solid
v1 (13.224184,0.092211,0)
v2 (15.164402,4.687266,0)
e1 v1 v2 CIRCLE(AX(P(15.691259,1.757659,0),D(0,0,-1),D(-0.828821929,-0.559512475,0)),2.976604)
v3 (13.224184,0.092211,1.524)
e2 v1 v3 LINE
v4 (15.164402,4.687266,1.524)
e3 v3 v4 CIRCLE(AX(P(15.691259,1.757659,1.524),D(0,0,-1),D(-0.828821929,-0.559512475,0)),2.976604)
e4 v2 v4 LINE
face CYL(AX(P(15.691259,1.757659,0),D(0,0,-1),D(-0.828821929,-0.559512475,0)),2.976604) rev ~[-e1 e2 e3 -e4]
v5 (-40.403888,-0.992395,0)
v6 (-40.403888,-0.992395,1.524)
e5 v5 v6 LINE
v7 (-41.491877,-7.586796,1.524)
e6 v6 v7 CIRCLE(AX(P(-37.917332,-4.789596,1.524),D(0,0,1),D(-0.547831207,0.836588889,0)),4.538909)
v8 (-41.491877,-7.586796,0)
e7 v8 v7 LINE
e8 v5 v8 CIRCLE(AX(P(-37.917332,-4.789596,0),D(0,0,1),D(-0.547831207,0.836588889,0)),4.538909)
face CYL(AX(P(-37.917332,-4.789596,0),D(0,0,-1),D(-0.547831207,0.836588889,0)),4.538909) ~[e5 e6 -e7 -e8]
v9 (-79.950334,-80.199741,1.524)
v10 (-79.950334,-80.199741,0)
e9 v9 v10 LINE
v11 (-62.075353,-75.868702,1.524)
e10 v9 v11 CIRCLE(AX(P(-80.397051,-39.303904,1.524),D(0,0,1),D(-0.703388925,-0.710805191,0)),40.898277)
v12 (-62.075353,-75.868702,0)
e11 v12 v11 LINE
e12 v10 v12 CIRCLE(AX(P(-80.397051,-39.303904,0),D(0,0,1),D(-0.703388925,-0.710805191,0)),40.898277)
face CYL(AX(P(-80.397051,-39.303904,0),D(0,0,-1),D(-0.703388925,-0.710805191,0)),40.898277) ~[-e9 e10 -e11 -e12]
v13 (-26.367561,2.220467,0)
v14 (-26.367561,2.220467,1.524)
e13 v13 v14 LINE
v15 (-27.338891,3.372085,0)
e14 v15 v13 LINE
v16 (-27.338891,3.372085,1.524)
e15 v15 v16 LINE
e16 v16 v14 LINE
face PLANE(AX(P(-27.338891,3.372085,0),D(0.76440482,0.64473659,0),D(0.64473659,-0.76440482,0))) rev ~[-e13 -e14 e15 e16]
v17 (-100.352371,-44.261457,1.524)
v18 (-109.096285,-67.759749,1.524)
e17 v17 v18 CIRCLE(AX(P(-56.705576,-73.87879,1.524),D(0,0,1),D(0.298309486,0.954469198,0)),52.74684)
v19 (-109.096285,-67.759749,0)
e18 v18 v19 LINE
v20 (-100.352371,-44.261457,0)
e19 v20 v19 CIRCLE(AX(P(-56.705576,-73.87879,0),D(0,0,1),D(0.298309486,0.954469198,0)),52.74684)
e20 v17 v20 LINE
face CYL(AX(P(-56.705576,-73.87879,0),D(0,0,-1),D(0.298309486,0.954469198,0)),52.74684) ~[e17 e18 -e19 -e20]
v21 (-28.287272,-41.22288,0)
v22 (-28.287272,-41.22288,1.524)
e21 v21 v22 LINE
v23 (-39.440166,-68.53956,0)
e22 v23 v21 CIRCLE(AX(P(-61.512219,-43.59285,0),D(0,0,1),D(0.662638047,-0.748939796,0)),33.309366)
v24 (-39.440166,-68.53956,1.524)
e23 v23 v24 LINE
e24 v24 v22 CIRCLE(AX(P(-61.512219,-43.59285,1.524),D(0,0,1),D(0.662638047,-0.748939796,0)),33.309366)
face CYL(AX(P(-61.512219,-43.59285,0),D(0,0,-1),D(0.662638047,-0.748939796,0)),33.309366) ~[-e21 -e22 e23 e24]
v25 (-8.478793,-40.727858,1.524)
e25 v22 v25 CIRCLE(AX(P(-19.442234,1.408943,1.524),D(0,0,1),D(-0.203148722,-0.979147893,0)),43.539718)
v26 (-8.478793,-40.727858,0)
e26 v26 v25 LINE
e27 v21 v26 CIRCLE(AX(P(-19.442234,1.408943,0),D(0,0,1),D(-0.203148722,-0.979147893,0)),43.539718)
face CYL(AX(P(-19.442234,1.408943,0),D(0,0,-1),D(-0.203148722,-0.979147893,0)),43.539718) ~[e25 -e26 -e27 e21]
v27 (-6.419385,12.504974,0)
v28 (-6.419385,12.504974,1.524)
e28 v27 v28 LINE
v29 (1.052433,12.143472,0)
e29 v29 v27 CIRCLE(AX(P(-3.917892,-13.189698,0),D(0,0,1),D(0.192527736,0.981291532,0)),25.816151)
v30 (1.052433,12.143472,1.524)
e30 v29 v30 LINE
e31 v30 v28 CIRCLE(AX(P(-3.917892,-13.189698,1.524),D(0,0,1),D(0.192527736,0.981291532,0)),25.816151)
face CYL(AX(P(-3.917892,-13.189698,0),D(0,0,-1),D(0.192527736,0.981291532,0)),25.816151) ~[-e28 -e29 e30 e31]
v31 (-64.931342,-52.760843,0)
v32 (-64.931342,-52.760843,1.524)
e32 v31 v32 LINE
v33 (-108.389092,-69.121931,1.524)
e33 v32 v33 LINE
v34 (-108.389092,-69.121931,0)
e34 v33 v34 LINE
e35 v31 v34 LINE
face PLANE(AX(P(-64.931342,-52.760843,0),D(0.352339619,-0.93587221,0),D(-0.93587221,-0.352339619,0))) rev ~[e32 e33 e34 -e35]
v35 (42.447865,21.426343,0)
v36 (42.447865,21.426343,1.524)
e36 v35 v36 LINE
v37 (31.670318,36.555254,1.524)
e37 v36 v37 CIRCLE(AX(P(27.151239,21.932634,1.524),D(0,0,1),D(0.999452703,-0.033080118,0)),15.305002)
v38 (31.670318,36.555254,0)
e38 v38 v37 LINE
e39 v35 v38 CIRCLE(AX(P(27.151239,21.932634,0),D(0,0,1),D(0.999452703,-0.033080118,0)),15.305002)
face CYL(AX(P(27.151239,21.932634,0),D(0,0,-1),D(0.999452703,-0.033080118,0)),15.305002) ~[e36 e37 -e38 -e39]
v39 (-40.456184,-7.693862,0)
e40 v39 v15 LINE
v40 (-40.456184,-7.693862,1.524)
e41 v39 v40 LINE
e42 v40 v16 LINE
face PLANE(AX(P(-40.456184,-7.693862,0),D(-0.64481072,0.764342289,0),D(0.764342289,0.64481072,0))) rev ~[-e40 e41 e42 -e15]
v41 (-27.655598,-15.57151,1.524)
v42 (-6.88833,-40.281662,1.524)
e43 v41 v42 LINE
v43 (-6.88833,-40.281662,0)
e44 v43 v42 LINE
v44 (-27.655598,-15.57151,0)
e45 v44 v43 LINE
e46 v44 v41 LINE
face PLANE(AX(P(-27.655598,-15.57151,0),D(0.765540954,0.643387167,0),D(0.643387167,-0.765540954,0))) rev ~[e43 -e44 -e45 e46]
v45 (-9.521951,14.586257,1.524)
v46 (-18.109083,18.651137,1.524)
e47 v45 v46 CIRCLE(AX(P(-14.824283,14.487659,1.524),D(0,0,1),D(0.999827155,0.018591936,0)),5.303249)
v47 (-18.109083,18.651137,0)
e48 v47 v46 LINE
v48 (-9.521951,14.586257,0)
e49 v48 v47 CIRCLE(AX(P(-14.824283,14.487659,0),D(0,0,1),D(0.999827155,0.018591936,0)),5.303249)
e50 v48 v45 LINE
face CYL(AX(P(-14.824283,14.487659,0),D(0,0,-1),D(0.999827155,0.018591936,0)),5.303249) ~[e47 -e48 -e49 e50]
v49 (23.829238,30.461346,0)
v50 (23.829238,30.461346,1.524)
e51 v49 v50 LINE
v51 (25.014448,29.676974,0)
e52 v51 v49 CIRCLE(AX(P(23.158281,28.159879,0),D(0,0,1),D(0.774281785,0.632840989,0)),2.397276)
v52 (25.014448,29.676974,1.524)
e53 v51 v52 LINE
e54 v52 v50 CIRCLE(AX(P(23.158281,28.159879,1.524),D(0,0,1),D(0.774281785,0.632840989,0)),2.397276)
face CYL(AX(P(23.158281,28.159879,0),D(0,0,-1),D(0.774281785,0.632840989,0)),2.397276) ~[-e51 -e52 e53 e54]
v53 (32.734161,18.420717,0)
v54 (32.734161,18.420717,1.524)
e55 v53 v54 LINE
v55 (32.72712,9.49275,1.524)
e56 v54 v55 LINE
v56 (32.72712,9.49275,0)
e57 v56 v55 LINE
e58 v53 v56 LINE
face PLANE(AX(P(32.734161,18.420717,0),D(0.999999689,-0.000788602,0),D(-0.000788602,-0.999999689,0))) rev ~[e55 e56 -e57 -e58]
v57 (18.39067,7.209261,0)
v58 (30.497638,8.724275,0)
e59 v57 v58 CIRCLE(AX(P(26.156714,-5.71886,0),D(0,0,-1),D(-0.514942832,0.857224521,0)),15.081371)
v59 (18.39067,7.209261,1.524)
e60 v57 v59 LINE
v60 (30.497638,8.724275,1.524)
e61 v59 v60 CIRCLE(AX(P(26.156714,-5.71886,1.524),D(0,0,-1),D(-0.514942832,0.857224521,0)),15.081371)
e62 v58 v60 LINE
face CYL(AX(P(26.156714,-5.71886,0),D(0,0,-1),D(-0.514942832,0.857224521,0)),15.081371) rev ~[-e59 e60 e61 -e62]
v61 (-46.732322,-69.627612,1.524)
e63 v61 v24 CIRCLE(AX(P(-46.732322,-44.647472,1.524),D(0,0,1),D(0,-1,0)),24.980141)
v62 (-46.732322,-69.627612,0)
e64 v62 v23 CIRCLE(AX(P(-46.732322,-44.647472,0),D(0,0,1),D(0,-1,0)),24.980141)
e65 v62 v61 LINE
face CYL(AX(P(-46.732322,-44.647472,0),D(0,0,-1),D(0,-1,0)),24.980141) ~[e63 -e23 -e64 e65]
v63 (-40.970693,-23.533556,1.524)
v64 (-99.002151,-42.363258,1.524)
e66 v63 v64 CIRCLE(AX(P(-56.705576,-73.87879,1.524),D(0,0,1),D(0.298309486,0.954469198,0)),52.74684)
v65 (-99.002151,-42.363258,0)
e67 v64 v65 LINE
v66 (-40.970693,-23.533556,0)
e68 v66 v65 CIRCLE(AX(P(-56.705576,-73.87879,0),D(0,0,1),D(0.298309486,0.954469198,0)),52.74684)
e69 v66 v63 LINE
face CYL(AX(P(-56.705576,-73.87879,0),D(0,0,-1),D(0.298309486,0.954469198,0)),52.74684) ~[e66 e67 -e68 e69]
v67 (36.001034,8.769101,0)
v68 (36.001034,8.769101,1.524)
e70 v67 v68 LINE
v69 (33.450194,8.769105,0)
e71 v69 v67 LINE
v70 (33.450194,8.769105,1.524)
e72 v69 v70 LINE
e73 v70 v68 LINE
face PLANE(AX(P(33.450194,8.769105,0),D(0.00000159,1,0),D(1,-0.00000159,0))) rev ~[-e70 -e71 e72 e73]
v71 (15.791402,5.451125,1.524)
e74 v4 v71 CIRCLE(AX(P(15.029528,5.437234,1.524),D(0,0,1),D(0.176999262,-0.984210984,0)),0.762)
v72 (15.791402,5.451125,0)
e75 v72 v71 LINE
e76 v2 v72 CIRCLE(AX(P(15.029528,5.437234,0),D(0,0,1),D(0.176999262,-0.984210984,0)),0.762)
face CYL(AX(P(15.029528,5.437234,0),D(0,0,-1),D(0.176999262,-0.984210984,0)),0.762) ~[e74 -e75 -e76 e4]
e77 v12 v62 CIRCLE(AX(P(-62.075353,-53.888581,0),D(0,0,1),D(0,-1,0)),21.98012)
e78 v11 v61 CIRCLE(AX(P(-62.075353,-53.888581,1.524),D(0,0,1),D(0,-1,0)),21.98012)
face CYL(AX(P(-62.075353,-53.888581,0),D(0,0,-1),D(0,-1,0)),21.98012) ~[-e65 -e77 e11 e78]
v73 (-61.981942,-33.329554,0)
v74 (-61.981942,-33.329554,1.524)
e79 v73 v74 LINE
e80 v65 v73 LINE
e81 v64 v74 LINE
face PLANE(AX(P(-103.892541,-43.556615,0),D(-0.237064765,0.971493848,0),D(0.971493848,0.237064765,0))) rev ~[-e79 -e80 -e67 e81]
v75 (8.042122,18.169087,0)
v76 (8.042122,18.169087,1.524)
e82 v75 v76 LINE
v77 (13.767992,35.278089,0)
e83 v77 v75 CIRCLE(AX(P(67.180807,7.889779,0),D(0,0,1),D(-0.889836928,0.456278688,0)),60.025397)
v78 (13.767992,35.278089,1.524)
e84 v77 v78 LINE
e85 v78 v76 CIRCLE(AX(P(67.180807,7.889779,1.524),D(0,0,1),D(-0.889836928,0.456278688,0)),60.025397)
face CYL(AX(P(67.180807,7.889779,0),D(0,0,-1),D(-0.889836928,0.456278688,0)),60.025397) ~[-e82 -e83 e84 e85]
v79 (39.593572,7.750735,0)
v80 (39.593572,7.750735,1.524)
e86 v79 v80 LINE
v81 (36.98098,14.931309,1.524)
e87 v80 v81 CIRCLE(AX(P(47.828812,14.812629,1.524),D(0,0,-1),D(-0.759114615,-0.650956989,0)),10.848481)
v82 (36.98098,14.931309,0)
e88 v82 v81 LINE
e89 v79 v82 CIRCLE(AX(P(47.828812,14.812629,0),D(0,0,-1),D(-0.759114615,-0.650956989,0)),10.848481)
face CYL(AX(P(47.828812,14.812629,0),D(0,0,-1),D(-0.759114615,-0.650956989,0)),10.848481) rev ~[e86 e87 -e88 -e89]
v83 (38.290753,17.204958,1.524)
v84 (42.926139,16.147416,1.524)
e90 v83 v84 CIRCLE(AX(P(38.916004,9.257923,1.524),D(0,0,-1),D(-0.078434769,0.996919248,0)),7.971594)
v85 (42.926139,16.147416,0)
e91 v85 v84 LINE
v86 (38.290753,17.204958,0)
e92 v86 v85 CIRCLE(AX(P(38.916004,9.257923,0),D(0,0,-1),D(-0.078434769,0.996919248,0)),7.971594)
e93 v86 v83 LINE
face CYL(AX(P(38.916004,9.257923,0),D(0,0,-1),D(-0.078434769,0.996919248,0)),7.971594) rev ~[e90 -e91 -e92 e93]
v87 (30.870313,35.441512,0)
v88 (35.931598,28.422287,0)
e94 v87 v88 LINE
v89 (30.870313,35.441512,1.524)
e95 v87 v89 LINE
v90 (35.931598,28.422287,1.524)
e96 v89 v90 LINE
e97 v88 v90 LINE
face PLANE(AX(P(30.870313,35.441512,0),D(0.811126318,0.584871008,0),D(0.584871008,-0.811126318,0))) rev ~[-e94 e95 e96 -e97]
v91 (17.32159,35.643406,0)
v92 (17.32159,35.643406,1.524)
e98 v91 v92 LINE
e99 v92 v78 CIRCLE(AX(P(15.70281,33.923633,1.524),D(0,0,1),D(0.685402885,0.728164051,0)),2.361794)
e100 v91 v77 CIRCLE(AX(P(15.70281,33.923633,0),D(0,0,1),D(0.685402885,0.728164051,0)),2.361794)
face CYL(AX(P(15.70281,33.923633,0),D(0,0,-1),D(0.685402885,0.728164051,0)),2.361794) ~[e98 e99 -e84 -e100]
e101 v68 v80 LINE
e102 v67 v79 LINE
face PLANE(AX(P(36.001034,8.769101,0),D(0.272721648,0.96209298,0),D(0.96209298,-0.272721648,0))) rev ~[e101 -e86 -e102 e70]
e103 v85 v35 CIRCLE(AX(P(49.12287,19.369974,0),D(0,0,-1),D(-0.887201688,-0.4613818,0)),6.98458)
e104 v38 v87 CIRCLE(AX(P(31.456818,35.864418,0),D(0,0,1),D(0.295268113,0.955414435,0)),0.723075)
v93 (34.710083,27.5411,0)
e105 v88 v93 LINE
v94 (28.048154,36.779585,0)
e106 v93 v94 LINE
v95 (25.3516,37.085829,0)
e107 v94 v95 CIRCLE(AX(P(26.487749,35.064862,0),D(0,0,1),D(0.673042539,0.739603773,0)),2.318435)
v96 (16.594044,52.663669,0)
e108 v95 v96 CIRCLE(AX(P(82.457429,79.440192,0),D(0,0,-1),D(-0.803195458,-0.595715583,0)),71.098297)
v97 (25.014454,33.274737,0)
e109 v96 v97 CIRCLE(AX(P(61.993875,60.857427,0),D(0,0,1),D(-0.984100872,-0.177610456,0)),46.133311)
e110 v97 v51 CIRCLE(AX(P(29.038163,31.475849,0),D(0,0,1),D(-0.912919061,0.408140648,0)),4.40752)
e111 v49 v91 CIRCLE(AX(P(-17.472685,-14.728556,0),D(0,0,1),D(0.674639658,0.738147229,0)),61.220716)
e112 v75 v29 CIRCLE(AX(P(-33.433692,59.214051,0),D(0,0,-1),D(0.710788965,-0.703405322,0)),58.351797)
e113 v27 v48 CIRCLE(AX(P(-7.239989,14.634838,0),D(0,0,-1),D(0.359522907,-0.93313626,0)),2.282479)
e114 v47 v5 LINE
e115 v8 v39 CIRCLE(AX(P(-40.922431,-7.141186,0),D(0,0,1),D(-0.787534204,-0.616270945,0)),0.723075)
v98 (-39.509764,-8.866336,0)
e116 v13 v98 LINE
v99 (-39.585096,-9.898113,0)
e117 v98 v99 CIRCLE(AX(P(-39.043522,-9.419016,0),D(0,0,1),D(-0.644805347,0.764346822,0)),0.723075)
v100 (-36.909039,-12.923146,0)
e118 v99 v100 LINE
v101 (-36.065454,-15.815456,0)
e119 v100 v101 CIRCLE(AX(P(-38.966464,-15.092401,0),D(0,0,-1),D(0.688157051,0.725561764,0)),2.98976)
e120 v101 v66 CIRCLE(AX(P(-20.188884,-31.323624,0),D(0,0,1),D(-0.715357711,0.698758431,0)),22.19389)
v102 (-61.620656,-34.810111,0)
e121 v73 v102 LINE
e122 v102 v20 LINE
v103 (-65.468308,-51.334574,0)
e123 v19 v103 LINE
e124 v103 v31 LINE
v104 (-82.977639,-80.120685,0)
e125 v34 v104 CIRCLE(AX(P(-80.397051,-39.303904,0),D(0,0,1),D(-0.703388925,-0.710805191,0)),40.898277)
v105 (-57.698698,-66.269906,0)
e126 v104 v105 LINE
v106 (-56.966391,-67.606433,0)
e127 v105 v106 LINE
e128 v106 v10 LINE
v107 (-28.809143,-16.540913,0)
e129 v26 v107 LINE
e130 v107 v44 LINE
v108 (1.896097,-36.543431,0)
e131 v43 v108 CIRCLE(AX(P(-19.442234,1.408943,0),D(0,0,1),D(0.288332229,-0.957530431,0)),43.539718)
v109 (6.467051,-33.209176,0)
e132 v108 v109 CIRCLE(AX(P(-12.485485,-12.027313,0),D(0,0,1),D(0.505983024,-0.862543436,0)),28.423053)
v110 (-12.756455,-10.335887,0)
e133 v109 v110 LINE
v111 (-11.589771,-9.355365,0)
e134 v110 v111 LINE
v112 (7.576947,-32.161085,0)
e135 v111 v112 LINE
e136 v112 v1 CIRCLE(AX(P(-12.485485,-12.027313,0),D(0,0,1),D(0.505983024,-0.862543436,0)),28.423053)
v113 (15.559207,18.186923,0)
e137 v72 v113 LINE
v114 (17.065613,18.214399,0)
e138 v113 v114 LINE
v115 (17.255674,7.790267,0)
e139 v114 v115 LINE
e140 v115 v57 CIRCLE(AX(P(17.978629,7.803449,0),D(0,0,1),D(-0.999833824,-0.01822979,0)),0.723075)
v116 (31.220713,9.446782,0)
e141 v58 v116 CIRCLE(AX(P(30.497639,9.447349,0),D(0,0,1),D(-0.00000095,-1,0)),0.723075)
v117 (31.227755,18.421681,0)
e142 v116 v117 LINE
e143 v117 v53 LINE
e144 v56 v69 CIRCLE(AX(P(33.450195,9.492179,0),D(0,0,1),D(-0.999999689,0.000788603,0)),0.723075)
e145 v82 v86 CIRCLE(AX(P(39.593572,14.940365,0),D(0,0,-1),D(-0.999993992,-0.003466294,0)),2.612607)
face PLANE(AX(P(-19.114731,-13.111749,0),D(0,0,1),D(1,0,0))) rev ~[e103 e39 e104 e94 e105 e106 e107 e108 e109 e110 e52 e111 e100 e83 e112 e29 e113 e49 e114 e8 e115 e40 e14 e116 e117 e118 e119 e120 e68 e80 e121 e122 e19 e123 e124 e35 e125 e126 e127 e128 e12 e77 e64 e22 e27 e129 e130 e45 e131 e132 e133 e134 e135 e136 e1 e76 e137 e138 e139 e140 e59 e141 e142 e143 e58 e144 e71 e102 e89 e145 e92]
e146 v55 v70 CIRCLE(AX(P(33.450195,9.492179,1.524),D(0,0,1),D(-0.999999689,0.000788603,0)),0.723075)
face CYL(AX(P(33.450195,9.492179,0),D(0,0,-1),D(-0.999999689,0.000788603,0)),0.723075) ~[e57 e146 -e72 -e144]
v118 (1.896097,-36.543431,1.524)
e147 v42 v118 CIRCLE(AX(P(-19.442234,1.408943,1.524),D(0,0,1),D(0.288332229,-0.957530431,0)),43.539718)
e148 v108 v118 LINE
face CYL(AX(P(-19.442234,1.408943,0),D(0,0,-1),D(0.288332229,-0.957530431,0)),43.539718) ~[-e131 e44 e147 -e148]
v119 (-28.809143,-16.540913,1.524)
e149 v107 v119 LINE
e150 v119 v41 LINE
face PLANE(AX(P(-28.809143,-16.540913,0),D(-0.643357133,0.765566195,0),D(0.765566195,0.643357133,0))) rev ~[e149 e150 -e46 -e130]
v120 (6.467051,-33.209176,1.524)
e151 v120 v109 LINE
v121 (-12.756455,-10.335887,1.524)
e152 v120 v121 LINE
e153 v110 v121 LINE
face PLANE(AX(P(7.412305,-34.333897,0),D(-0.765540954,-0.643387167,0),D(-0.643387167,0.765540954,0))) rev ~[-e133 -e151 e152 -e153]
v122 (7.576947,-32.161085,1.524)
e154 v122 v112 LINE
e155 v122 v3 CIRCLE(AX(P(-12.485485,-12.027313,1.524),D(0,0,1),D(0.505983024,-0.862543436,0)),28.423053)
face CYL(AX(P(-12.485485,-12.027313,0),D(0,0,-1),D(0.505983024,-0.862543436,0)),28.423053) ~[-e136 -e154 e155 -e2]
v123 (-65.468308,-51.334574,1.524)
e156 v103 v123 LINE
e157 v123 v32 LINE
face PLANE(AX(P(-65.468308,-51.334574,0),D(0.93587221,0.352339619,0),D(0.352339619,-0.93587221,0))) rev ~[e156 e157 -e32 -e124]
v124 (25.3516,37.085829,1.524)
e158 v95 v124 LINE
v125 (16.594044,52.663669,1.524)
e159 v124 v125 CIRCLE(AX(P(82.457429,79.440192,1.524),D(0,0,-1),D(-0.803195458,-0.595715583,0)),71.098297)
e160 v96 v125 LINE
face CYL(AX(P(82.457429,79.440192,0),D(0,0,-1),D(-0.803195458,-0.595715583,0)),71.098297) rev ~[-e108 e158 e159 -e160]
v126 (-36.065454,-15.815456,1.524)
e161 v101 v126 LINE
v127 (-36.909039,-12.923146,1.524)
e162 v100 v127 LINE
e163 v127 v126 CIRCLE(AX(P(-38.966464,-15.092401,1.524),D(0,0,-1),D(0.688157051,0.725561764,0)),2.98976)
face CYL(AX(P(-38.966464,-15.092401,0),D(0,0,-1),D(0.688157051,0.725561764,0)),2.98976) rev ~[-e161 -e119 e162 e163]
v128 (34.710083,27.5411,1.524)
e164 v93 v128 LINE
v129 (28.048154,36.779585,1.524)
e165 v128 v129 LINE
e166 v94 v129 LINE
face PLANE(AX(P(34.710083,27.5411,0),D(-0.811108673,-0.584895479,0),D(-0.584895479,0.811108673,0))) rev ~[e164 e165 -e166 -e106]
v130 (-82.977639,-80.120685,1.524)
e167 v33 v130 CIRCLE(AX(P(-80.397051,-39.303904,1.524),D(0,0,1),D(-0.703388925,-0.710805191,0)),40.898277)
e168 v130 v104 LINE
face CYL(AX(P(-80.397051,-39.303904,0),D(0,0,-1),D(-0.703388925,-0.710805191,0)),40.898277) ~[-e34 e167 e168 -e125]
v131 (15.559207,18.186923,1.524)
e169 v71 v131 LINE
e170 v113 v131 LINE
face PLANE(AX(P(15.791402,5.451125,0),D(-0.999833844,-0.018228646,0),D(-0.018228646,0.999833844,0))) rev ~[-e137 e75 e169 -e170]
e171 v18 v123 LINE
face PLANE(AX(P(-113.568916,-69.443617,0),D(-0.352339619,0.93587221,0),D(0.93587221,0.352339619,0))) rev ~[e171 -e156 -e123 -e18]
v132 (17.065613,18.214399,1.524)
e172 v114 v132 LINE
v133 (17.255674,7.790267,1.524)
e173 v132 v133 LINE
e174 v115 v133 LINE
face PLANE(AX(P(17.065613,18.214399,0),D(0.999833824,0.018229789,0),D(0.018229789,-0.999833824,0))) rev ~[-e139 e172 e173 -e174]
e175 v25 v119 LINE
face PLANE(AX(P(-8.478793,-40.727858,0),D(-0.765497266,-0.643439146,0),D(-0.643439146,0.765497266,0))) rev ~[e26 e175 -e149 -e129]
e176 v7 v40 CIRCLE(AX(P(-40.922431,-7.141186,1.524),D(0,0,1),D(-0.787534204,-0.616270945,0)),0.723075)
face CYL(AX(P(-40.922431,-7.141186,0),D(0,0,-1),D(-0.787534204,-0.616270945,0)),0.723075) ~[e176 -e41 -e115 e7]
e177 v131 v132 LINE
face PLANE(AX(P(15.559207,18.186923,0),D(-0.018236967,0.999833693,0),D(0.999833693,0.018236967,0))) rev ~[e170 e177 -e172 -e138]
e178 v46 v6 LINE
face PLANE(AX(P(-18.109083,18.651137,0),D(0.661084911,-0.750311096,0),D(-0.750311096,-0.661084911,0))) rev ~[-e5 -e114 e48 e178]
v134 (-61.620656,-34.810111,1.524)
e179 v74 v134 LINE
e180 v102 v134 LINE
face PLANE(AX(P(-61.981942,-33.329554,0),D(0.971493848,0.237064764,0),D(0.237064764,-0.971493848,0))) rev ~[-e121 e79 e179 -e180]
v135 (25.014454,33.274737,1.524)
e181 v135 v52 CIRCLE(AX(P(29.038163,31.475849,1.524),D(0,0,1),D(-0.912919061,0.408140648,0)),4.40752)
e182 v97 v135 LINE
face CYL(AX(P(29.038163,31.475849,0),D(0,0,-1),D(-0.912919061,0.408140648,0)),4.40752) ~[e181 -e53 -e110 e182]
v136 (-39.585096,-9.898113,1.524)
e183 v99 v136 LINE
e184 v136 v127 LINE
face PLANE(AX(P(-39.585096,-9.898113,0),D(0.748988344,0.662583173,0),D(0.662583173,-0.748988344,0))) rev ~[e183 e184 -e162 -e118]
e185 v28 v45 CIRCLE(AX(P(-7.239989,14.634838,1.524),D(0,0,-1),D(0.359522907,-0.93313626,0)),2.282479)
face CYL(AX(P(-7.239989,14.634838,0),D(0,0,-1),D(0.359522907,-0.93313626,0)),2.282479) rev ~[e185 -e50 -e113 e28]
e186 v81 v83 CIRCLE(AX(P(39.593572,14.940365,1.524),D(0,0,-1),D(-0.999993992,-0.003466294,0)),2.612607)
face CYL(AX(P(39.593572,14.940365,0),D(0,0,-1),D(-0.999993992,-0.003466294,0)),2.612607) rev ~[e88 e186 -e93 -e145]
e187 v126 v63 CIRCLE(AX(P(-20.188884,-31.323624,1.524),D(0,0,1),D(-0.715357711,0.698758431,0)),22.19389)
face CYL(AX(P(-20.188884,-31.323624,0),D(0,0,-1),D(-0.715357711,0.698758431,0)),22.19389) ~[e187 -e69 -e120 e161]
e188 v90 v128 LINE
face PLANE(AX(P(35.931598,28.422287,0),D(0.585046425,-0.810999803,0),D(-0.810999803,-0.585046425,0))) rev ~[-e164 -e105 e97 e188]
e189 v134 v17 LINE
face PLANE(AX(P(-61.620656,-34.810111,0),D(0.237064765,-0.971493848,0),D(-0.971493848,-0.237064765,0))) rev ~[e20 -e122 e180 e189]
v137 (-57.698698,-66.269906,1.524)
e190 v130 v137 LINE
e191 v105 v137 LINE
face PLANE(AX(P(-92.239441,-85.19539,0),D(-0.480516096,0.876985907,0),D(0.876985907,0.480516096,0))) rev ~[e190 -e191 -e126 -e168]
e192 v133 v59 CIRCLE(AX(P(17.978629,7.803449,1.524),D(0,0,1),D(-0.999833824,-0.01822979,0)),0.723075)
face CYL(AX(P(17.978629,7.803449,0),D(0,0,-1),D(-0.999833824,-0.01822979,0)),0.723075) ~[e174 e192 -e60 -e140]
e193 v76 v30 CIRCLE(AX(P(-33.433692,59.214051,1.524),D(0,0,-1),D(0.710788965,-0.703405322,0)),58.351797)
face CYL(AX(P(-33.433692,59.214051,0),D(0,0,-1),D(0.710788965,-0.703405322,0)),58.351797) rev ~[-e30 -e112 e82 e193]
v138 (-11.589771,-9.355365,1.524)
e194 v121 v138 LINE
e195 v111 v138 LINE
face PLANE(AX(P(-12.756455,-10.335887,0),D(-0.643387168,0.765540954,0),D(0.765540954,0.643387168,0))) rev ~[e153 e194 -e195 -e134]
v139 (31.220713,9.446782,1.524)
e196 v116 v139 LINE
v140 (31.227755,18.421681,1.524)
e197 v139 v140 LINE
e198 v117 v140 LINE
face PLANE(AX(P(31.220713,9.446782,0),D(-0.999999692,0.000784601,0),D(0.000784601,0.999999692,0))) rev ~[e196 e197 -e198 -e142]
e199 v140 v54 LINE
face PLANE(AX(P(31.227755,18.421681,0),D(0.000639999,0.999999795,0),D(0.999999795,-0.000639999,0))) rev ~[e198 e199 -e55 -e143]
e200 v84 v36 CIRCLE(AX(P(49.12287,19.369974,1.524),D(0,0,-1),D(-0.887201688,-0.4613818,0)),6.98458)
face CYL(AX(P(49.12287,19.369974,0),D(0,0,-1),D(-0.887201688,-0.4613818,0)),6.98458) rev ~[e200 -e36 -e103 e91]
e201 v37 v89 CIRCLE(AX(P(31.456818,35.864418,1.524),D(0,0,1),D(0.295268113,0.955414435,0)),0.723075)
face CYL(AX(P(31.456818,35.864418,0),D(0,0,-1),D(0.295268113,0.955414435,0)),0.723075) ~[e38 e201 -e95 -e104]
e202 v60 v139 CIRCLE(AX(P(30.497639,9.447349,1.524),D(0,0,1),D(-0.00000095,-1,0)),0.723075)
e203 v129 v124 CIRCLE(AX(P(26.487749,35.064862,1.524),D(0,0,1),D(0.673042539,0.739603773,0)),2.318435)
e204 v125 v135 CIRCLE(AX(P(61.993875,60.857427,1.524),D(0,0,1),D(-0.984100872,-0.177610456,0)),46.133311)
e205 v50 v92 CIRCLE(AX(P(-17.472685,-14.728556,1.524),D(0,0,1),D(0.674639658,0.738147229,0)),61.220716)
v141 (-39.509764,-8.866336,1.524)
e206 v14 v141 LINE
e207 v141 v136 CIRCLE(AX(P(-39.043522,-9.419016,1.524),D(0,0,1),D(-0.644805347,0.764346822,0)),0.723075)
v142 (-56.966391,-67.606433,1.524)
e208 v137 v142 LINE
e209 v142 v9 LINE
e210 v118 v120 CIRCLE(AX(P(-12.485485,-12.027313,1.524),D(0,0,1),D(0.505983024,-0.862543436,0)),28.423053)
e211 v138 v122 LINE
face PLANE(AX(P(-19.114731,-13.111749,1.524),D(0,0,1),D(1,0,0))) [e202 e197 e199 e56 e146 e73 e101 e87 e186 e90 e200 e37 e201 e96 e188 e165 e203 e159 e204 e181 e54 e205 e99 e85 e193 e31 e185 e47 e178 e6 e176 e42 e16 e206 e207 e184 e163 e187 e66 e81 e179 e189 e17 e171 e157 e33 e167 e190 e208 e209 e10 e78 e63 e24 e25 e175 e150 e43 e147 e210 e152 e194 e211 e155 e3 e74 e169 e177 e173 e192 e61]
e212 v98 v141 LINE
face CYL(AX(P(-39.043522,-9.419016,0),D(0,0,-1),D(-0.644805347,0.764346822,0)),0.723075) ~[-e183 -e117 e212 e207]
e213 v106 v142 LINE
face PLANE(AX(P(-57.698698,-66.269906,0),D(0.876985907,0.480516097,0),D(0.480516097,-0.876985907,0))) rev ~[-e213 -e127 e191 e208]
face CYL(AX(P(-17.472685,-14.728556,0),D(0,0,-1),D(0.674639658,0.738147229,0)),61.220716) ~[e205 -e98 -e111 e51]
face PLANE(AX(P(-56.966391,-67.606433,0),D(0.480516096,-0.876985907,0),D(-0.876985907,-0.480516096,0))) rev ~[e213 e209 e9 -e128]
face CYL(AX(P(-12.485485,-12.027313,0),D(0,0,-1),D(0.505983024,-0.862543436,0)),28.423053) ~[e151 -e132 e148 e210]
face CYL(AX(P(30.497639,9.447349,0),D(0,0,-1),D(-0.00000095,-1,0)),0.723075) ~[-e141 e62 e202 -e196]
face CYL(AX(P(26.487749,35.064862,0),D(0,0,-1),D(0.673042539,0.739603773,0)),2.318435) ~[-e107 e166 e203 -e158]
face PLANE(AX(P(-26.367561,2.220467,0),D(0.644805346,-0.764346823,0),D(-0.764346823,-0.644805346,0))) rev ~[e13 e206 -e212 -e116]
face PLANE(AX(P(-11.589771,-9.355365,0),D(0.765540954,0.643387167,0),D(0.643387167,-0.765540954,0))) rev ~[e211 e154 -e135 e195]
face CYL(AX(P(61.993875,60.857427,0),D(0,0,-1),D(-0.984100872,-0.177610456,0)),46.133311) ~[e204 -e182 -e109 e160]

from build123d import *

# Parameters (mm, degrees)
BOSS_EXTRUDE1_DEPTH = 1.524
CUT_EXTRUDE1_DEPTH  = 1.524
CUT_EXTRUDE2_DEPTH  = 1.524


with BuildPart() as part:
    # Sketch1 → Boss-Extrude1 (new body)
    with BuildSketch(Plane.XY):
        with BuildLine():
            Line((-18.109082737, 18.651136583), (-40.403888228, -0.992394741))
            ThreePointArc((-40.403888228, -0.992394741), (-42.395698567, -4.050724761), (-41.491876636, -7.586795582))
            ThreePointArc((-41.491876636, -7.586795582), (-40.996783491, -7.860427406), (-40.456184155, -7.693862236))
            Line((-40.456184155, -7.693862236), (-27.338891186, 3.372084587))
            Line((-27.338891186, 3.372084587), (-26.367560741, 2.220467499))
            Line((-26.367560741, 2.220467499), (-39.509764326, -8.866336125))
            ThreePointArc((-39.509764326, -8.866336125), (-39.764677025, -9.366363056), (-39.585096423, -9.898113208))
            Line((-39.585096423, -9.898113208), (-36.909039408, -12.923145527))
            ThreePointArc((-36.909039408, -12.923145527), (-36.096292723, -14.255273478), (-36.065454443, -15.815456497))
            ThreePointArc((-36.065454443, -15.815456497), (-38.919913552, -19.419117177), (-40.970693325, -23.533556316))
            ThreePointArc((-40.970693325, -23.533556316), (-85.68561882, -29.806279301), (-109.164446531, -68.374611713))
            ThreePointArc((-109.164446531, -68.374611713), (-86.824997617, -79.693885154), (-62.075353147, -75.868701805))
            ThreePointArc((-62.075353147, -75.868701805), (-53.793448225, -74.248732285), (-46.732322194, -69.627612338))
            ThreePointArc((-46.732322194, -69.627612338), (-43.045880581, -69.354101873), (-39.440165524, -68.539559875))
            ThreePointArc((-39.440165524, -68.539559875), (-30.674096062, -56.183483706), (-28.287271549, -41.22288008))
            ThreePointArc((-28.287271549, -41.22288008), (-18.354497785, -42.11718557), (-8.478792941, -40.727858108))
            Line((-8.478792941, -40.727858108), (-28.809143223, -16.540912603))
            Line((-28.809143223, -16.540912603), (-27.655597936, -15.571510358))
            Line((-27.655597936, -15.571510358), (-6.888329643, -40.281661868))
            ThreePointArc((-6.888329643, -40.281661868), (-2.393348388, -38.654039316), (1.896097193, -36.543430812))
            ThreePointArc((1.896097193, -36.543430812), (14.669066503, -20.423756748), (13.224183609, 0.092211431))
            ThreePointArc((13.224183609, 0.092211431), (12.94908113, 2.915517355), (15.164401866, 4.687265575))
            ThreePointArc((15.164401866, 4.687265575), (15.618518122, 4.953772723), (15.791401816, 5.451124573))
            Line((15.791401816, 5.451124573), (15.559206878, 18.186922579))
            Line((15.559206878, 18.186922579), (17.065612654, 18.214399421))
            Line((17.065612654, 18.214399421), (17.255673973, 7.790267081))
            ThreePointArc((17.255673973, 7.790267081), (17.649146232, 7.159803879), (18.390670497, 7.209261245))
            ThreePointArc((18.390670497, 7.209261245), (24.284101701, 9.245801019), (30.497638202, 8.724274642))
            ThreePointArc((30.497638202, 8.724274642), (31.008729101, 8.935857556), (31.220713438, 9.446782089))
            Line((31.220713438, 9.446782089), (31.227755152, 18.421680855))
            Line((31.227755152, 18.421680855), (32.734160928, 18.420716756))
            Line((32.734160928, 18.420716756), (32.727120315, 9.492749656))
            ThreePointArc((32.727120315, 9.492749656), (32.938701818, 8.981090412), (33.450193713, 8.769104665))
            Line((33.450193713, 8.769104665), (36.00103405, 8.76910061))
            Line((36.00103405, 8.76910061), (39.593571682, 7.750734608))
            ThreePointArc((39.593571682, 7.750734608), (37.634153074, 11.103388424), (36.980980252, 14.931308767))
            ThreePointArc((36.980980252, 14.931308767), (37.32973025, 16.244488278), (38.290753444, 17.204957649))
            ThreePointArc((38.290753444, 17.204957649), (40.689125585, 17.029816962), (42.926139447, 16.147415598))
            ThreePointArc((42.926139447, 16.147415598), (42.166781774, 18.73974704), (42.447864883, 21.426343152))
            ThreePointArc((42.447864883, 21.426343152), (39.616652478, 30.812755933), (31.670318465, 36.555254025))
            ThreePointArc((31.670318465, 36.555254025), (30.869545829, 36.286258041), (30.870312564, 35.441512478))
            Line((30.870312564, 35.441512478), (35.931597573, 28.422287011))
            Line((35.931597573, 28.422287011), (34.710083257, 27.541099888))
            Line((34.710083257, 27.541099888), (28.048154351, 36.779585234))
            ThreePointArc((28.048154351, 36.779585234), (26.749368414, 37.368488779), (25.351600254, 37.085829151))
            ThreePointArc((25.351600254, 37.085829151), (20.481432232, 44.59849919), (16.594043627, 52.663668593))
            ThreePointArc((16.594043627, 52.663668593), (19.678771518, 42.480420055), (25.014453648, 33.274737399))
            ThreePointArc((25.014453648, 33.274737399), (24.630642645, 31.475856238), (25.014447927, 29.676973856))
            ThreePointArc((25.014447927, 29.676973856), (24.481307432, 30.159012342), (23.8292382, 30.461345943))
            ThreePointArc((23.8292382, 30.461345943), (20.663534908, 33.163038536), (17.321589669, 35.643405891))
            ThreePointArc((17.321589669, 35.643405891), (15.461285039, 36.273044307), (13.767992132, 35.278088539))
            ThreePointArc((13.767992132, 35.278088539), (10.258583377, 26.939942946), (8.042121541, 18.169086735))
            ThreePointArc((8.042121541, 18.169086735), (4.666584105, 15.017884217), (1.052433145, 12.143472427))
            ThreePointArc((1.052433145, 12.143472427), (-2.67031295, 12.596290492), (-6.419385375, 12.504974353))
            ThreePointArc((-6.419385375, 12.504974353), (-8.511533948, 12.739347863), (-9.521951073, 14.586257126))
            ThreePointArc((-9.521951073, 14.586257126), (-12.55527012, 19.280991071), (-18.109082737, 18.651136583))
        make_face()
    extrude(amount=BOSS_EXTRUDE1_DEPTH)

    # Sketch2 → Cut-Extrude1 (cut)
    with BuildSketch(Plane(origin=(0, 0, 0), x_dir=(-1, 0, 0), z_dir=(0, 0, -1))):
        Polygon((-7.412304672, -34.333896752), (12.756455248, -10.335886692), (11.589770834, -9.355364649), (-8.578989086, -33.353374708), align=None)
    extrude(amount=-CUT_EXTRUDE1_DEPTH, mode=Mode.SUBTRACT)

    # Sketch3 → Cut-Extrude2 (cut)
    with BuildSketch(Plane(origin=(0, 0, 0), x_dir=(-1, 0, 0), z_dir=(0, 0, -1))):
        Polygon((92.239440666, -85.195390194), (57.69869779, -66.269905982), (56.966391259, -67.606432504), (91.507134135, -86.531916716), align=None)
        Polygon((113.568916303, -69.443616856), (65.468307652, -51.334573831), (64.931342073, -52.760843078), (113.031950724, -70.869886103), align=None)
        Polygon((103.892541474, -43.556614737), (61.98194232, -33.329554282), (61.620655619, -34.810110907), (103.531254772, -45.037171362), align=None)
    extrude(amount=-CUT_EXTRUDE2_DEPTH, mode=Mode.SUBTRACT)


solid = part.part
